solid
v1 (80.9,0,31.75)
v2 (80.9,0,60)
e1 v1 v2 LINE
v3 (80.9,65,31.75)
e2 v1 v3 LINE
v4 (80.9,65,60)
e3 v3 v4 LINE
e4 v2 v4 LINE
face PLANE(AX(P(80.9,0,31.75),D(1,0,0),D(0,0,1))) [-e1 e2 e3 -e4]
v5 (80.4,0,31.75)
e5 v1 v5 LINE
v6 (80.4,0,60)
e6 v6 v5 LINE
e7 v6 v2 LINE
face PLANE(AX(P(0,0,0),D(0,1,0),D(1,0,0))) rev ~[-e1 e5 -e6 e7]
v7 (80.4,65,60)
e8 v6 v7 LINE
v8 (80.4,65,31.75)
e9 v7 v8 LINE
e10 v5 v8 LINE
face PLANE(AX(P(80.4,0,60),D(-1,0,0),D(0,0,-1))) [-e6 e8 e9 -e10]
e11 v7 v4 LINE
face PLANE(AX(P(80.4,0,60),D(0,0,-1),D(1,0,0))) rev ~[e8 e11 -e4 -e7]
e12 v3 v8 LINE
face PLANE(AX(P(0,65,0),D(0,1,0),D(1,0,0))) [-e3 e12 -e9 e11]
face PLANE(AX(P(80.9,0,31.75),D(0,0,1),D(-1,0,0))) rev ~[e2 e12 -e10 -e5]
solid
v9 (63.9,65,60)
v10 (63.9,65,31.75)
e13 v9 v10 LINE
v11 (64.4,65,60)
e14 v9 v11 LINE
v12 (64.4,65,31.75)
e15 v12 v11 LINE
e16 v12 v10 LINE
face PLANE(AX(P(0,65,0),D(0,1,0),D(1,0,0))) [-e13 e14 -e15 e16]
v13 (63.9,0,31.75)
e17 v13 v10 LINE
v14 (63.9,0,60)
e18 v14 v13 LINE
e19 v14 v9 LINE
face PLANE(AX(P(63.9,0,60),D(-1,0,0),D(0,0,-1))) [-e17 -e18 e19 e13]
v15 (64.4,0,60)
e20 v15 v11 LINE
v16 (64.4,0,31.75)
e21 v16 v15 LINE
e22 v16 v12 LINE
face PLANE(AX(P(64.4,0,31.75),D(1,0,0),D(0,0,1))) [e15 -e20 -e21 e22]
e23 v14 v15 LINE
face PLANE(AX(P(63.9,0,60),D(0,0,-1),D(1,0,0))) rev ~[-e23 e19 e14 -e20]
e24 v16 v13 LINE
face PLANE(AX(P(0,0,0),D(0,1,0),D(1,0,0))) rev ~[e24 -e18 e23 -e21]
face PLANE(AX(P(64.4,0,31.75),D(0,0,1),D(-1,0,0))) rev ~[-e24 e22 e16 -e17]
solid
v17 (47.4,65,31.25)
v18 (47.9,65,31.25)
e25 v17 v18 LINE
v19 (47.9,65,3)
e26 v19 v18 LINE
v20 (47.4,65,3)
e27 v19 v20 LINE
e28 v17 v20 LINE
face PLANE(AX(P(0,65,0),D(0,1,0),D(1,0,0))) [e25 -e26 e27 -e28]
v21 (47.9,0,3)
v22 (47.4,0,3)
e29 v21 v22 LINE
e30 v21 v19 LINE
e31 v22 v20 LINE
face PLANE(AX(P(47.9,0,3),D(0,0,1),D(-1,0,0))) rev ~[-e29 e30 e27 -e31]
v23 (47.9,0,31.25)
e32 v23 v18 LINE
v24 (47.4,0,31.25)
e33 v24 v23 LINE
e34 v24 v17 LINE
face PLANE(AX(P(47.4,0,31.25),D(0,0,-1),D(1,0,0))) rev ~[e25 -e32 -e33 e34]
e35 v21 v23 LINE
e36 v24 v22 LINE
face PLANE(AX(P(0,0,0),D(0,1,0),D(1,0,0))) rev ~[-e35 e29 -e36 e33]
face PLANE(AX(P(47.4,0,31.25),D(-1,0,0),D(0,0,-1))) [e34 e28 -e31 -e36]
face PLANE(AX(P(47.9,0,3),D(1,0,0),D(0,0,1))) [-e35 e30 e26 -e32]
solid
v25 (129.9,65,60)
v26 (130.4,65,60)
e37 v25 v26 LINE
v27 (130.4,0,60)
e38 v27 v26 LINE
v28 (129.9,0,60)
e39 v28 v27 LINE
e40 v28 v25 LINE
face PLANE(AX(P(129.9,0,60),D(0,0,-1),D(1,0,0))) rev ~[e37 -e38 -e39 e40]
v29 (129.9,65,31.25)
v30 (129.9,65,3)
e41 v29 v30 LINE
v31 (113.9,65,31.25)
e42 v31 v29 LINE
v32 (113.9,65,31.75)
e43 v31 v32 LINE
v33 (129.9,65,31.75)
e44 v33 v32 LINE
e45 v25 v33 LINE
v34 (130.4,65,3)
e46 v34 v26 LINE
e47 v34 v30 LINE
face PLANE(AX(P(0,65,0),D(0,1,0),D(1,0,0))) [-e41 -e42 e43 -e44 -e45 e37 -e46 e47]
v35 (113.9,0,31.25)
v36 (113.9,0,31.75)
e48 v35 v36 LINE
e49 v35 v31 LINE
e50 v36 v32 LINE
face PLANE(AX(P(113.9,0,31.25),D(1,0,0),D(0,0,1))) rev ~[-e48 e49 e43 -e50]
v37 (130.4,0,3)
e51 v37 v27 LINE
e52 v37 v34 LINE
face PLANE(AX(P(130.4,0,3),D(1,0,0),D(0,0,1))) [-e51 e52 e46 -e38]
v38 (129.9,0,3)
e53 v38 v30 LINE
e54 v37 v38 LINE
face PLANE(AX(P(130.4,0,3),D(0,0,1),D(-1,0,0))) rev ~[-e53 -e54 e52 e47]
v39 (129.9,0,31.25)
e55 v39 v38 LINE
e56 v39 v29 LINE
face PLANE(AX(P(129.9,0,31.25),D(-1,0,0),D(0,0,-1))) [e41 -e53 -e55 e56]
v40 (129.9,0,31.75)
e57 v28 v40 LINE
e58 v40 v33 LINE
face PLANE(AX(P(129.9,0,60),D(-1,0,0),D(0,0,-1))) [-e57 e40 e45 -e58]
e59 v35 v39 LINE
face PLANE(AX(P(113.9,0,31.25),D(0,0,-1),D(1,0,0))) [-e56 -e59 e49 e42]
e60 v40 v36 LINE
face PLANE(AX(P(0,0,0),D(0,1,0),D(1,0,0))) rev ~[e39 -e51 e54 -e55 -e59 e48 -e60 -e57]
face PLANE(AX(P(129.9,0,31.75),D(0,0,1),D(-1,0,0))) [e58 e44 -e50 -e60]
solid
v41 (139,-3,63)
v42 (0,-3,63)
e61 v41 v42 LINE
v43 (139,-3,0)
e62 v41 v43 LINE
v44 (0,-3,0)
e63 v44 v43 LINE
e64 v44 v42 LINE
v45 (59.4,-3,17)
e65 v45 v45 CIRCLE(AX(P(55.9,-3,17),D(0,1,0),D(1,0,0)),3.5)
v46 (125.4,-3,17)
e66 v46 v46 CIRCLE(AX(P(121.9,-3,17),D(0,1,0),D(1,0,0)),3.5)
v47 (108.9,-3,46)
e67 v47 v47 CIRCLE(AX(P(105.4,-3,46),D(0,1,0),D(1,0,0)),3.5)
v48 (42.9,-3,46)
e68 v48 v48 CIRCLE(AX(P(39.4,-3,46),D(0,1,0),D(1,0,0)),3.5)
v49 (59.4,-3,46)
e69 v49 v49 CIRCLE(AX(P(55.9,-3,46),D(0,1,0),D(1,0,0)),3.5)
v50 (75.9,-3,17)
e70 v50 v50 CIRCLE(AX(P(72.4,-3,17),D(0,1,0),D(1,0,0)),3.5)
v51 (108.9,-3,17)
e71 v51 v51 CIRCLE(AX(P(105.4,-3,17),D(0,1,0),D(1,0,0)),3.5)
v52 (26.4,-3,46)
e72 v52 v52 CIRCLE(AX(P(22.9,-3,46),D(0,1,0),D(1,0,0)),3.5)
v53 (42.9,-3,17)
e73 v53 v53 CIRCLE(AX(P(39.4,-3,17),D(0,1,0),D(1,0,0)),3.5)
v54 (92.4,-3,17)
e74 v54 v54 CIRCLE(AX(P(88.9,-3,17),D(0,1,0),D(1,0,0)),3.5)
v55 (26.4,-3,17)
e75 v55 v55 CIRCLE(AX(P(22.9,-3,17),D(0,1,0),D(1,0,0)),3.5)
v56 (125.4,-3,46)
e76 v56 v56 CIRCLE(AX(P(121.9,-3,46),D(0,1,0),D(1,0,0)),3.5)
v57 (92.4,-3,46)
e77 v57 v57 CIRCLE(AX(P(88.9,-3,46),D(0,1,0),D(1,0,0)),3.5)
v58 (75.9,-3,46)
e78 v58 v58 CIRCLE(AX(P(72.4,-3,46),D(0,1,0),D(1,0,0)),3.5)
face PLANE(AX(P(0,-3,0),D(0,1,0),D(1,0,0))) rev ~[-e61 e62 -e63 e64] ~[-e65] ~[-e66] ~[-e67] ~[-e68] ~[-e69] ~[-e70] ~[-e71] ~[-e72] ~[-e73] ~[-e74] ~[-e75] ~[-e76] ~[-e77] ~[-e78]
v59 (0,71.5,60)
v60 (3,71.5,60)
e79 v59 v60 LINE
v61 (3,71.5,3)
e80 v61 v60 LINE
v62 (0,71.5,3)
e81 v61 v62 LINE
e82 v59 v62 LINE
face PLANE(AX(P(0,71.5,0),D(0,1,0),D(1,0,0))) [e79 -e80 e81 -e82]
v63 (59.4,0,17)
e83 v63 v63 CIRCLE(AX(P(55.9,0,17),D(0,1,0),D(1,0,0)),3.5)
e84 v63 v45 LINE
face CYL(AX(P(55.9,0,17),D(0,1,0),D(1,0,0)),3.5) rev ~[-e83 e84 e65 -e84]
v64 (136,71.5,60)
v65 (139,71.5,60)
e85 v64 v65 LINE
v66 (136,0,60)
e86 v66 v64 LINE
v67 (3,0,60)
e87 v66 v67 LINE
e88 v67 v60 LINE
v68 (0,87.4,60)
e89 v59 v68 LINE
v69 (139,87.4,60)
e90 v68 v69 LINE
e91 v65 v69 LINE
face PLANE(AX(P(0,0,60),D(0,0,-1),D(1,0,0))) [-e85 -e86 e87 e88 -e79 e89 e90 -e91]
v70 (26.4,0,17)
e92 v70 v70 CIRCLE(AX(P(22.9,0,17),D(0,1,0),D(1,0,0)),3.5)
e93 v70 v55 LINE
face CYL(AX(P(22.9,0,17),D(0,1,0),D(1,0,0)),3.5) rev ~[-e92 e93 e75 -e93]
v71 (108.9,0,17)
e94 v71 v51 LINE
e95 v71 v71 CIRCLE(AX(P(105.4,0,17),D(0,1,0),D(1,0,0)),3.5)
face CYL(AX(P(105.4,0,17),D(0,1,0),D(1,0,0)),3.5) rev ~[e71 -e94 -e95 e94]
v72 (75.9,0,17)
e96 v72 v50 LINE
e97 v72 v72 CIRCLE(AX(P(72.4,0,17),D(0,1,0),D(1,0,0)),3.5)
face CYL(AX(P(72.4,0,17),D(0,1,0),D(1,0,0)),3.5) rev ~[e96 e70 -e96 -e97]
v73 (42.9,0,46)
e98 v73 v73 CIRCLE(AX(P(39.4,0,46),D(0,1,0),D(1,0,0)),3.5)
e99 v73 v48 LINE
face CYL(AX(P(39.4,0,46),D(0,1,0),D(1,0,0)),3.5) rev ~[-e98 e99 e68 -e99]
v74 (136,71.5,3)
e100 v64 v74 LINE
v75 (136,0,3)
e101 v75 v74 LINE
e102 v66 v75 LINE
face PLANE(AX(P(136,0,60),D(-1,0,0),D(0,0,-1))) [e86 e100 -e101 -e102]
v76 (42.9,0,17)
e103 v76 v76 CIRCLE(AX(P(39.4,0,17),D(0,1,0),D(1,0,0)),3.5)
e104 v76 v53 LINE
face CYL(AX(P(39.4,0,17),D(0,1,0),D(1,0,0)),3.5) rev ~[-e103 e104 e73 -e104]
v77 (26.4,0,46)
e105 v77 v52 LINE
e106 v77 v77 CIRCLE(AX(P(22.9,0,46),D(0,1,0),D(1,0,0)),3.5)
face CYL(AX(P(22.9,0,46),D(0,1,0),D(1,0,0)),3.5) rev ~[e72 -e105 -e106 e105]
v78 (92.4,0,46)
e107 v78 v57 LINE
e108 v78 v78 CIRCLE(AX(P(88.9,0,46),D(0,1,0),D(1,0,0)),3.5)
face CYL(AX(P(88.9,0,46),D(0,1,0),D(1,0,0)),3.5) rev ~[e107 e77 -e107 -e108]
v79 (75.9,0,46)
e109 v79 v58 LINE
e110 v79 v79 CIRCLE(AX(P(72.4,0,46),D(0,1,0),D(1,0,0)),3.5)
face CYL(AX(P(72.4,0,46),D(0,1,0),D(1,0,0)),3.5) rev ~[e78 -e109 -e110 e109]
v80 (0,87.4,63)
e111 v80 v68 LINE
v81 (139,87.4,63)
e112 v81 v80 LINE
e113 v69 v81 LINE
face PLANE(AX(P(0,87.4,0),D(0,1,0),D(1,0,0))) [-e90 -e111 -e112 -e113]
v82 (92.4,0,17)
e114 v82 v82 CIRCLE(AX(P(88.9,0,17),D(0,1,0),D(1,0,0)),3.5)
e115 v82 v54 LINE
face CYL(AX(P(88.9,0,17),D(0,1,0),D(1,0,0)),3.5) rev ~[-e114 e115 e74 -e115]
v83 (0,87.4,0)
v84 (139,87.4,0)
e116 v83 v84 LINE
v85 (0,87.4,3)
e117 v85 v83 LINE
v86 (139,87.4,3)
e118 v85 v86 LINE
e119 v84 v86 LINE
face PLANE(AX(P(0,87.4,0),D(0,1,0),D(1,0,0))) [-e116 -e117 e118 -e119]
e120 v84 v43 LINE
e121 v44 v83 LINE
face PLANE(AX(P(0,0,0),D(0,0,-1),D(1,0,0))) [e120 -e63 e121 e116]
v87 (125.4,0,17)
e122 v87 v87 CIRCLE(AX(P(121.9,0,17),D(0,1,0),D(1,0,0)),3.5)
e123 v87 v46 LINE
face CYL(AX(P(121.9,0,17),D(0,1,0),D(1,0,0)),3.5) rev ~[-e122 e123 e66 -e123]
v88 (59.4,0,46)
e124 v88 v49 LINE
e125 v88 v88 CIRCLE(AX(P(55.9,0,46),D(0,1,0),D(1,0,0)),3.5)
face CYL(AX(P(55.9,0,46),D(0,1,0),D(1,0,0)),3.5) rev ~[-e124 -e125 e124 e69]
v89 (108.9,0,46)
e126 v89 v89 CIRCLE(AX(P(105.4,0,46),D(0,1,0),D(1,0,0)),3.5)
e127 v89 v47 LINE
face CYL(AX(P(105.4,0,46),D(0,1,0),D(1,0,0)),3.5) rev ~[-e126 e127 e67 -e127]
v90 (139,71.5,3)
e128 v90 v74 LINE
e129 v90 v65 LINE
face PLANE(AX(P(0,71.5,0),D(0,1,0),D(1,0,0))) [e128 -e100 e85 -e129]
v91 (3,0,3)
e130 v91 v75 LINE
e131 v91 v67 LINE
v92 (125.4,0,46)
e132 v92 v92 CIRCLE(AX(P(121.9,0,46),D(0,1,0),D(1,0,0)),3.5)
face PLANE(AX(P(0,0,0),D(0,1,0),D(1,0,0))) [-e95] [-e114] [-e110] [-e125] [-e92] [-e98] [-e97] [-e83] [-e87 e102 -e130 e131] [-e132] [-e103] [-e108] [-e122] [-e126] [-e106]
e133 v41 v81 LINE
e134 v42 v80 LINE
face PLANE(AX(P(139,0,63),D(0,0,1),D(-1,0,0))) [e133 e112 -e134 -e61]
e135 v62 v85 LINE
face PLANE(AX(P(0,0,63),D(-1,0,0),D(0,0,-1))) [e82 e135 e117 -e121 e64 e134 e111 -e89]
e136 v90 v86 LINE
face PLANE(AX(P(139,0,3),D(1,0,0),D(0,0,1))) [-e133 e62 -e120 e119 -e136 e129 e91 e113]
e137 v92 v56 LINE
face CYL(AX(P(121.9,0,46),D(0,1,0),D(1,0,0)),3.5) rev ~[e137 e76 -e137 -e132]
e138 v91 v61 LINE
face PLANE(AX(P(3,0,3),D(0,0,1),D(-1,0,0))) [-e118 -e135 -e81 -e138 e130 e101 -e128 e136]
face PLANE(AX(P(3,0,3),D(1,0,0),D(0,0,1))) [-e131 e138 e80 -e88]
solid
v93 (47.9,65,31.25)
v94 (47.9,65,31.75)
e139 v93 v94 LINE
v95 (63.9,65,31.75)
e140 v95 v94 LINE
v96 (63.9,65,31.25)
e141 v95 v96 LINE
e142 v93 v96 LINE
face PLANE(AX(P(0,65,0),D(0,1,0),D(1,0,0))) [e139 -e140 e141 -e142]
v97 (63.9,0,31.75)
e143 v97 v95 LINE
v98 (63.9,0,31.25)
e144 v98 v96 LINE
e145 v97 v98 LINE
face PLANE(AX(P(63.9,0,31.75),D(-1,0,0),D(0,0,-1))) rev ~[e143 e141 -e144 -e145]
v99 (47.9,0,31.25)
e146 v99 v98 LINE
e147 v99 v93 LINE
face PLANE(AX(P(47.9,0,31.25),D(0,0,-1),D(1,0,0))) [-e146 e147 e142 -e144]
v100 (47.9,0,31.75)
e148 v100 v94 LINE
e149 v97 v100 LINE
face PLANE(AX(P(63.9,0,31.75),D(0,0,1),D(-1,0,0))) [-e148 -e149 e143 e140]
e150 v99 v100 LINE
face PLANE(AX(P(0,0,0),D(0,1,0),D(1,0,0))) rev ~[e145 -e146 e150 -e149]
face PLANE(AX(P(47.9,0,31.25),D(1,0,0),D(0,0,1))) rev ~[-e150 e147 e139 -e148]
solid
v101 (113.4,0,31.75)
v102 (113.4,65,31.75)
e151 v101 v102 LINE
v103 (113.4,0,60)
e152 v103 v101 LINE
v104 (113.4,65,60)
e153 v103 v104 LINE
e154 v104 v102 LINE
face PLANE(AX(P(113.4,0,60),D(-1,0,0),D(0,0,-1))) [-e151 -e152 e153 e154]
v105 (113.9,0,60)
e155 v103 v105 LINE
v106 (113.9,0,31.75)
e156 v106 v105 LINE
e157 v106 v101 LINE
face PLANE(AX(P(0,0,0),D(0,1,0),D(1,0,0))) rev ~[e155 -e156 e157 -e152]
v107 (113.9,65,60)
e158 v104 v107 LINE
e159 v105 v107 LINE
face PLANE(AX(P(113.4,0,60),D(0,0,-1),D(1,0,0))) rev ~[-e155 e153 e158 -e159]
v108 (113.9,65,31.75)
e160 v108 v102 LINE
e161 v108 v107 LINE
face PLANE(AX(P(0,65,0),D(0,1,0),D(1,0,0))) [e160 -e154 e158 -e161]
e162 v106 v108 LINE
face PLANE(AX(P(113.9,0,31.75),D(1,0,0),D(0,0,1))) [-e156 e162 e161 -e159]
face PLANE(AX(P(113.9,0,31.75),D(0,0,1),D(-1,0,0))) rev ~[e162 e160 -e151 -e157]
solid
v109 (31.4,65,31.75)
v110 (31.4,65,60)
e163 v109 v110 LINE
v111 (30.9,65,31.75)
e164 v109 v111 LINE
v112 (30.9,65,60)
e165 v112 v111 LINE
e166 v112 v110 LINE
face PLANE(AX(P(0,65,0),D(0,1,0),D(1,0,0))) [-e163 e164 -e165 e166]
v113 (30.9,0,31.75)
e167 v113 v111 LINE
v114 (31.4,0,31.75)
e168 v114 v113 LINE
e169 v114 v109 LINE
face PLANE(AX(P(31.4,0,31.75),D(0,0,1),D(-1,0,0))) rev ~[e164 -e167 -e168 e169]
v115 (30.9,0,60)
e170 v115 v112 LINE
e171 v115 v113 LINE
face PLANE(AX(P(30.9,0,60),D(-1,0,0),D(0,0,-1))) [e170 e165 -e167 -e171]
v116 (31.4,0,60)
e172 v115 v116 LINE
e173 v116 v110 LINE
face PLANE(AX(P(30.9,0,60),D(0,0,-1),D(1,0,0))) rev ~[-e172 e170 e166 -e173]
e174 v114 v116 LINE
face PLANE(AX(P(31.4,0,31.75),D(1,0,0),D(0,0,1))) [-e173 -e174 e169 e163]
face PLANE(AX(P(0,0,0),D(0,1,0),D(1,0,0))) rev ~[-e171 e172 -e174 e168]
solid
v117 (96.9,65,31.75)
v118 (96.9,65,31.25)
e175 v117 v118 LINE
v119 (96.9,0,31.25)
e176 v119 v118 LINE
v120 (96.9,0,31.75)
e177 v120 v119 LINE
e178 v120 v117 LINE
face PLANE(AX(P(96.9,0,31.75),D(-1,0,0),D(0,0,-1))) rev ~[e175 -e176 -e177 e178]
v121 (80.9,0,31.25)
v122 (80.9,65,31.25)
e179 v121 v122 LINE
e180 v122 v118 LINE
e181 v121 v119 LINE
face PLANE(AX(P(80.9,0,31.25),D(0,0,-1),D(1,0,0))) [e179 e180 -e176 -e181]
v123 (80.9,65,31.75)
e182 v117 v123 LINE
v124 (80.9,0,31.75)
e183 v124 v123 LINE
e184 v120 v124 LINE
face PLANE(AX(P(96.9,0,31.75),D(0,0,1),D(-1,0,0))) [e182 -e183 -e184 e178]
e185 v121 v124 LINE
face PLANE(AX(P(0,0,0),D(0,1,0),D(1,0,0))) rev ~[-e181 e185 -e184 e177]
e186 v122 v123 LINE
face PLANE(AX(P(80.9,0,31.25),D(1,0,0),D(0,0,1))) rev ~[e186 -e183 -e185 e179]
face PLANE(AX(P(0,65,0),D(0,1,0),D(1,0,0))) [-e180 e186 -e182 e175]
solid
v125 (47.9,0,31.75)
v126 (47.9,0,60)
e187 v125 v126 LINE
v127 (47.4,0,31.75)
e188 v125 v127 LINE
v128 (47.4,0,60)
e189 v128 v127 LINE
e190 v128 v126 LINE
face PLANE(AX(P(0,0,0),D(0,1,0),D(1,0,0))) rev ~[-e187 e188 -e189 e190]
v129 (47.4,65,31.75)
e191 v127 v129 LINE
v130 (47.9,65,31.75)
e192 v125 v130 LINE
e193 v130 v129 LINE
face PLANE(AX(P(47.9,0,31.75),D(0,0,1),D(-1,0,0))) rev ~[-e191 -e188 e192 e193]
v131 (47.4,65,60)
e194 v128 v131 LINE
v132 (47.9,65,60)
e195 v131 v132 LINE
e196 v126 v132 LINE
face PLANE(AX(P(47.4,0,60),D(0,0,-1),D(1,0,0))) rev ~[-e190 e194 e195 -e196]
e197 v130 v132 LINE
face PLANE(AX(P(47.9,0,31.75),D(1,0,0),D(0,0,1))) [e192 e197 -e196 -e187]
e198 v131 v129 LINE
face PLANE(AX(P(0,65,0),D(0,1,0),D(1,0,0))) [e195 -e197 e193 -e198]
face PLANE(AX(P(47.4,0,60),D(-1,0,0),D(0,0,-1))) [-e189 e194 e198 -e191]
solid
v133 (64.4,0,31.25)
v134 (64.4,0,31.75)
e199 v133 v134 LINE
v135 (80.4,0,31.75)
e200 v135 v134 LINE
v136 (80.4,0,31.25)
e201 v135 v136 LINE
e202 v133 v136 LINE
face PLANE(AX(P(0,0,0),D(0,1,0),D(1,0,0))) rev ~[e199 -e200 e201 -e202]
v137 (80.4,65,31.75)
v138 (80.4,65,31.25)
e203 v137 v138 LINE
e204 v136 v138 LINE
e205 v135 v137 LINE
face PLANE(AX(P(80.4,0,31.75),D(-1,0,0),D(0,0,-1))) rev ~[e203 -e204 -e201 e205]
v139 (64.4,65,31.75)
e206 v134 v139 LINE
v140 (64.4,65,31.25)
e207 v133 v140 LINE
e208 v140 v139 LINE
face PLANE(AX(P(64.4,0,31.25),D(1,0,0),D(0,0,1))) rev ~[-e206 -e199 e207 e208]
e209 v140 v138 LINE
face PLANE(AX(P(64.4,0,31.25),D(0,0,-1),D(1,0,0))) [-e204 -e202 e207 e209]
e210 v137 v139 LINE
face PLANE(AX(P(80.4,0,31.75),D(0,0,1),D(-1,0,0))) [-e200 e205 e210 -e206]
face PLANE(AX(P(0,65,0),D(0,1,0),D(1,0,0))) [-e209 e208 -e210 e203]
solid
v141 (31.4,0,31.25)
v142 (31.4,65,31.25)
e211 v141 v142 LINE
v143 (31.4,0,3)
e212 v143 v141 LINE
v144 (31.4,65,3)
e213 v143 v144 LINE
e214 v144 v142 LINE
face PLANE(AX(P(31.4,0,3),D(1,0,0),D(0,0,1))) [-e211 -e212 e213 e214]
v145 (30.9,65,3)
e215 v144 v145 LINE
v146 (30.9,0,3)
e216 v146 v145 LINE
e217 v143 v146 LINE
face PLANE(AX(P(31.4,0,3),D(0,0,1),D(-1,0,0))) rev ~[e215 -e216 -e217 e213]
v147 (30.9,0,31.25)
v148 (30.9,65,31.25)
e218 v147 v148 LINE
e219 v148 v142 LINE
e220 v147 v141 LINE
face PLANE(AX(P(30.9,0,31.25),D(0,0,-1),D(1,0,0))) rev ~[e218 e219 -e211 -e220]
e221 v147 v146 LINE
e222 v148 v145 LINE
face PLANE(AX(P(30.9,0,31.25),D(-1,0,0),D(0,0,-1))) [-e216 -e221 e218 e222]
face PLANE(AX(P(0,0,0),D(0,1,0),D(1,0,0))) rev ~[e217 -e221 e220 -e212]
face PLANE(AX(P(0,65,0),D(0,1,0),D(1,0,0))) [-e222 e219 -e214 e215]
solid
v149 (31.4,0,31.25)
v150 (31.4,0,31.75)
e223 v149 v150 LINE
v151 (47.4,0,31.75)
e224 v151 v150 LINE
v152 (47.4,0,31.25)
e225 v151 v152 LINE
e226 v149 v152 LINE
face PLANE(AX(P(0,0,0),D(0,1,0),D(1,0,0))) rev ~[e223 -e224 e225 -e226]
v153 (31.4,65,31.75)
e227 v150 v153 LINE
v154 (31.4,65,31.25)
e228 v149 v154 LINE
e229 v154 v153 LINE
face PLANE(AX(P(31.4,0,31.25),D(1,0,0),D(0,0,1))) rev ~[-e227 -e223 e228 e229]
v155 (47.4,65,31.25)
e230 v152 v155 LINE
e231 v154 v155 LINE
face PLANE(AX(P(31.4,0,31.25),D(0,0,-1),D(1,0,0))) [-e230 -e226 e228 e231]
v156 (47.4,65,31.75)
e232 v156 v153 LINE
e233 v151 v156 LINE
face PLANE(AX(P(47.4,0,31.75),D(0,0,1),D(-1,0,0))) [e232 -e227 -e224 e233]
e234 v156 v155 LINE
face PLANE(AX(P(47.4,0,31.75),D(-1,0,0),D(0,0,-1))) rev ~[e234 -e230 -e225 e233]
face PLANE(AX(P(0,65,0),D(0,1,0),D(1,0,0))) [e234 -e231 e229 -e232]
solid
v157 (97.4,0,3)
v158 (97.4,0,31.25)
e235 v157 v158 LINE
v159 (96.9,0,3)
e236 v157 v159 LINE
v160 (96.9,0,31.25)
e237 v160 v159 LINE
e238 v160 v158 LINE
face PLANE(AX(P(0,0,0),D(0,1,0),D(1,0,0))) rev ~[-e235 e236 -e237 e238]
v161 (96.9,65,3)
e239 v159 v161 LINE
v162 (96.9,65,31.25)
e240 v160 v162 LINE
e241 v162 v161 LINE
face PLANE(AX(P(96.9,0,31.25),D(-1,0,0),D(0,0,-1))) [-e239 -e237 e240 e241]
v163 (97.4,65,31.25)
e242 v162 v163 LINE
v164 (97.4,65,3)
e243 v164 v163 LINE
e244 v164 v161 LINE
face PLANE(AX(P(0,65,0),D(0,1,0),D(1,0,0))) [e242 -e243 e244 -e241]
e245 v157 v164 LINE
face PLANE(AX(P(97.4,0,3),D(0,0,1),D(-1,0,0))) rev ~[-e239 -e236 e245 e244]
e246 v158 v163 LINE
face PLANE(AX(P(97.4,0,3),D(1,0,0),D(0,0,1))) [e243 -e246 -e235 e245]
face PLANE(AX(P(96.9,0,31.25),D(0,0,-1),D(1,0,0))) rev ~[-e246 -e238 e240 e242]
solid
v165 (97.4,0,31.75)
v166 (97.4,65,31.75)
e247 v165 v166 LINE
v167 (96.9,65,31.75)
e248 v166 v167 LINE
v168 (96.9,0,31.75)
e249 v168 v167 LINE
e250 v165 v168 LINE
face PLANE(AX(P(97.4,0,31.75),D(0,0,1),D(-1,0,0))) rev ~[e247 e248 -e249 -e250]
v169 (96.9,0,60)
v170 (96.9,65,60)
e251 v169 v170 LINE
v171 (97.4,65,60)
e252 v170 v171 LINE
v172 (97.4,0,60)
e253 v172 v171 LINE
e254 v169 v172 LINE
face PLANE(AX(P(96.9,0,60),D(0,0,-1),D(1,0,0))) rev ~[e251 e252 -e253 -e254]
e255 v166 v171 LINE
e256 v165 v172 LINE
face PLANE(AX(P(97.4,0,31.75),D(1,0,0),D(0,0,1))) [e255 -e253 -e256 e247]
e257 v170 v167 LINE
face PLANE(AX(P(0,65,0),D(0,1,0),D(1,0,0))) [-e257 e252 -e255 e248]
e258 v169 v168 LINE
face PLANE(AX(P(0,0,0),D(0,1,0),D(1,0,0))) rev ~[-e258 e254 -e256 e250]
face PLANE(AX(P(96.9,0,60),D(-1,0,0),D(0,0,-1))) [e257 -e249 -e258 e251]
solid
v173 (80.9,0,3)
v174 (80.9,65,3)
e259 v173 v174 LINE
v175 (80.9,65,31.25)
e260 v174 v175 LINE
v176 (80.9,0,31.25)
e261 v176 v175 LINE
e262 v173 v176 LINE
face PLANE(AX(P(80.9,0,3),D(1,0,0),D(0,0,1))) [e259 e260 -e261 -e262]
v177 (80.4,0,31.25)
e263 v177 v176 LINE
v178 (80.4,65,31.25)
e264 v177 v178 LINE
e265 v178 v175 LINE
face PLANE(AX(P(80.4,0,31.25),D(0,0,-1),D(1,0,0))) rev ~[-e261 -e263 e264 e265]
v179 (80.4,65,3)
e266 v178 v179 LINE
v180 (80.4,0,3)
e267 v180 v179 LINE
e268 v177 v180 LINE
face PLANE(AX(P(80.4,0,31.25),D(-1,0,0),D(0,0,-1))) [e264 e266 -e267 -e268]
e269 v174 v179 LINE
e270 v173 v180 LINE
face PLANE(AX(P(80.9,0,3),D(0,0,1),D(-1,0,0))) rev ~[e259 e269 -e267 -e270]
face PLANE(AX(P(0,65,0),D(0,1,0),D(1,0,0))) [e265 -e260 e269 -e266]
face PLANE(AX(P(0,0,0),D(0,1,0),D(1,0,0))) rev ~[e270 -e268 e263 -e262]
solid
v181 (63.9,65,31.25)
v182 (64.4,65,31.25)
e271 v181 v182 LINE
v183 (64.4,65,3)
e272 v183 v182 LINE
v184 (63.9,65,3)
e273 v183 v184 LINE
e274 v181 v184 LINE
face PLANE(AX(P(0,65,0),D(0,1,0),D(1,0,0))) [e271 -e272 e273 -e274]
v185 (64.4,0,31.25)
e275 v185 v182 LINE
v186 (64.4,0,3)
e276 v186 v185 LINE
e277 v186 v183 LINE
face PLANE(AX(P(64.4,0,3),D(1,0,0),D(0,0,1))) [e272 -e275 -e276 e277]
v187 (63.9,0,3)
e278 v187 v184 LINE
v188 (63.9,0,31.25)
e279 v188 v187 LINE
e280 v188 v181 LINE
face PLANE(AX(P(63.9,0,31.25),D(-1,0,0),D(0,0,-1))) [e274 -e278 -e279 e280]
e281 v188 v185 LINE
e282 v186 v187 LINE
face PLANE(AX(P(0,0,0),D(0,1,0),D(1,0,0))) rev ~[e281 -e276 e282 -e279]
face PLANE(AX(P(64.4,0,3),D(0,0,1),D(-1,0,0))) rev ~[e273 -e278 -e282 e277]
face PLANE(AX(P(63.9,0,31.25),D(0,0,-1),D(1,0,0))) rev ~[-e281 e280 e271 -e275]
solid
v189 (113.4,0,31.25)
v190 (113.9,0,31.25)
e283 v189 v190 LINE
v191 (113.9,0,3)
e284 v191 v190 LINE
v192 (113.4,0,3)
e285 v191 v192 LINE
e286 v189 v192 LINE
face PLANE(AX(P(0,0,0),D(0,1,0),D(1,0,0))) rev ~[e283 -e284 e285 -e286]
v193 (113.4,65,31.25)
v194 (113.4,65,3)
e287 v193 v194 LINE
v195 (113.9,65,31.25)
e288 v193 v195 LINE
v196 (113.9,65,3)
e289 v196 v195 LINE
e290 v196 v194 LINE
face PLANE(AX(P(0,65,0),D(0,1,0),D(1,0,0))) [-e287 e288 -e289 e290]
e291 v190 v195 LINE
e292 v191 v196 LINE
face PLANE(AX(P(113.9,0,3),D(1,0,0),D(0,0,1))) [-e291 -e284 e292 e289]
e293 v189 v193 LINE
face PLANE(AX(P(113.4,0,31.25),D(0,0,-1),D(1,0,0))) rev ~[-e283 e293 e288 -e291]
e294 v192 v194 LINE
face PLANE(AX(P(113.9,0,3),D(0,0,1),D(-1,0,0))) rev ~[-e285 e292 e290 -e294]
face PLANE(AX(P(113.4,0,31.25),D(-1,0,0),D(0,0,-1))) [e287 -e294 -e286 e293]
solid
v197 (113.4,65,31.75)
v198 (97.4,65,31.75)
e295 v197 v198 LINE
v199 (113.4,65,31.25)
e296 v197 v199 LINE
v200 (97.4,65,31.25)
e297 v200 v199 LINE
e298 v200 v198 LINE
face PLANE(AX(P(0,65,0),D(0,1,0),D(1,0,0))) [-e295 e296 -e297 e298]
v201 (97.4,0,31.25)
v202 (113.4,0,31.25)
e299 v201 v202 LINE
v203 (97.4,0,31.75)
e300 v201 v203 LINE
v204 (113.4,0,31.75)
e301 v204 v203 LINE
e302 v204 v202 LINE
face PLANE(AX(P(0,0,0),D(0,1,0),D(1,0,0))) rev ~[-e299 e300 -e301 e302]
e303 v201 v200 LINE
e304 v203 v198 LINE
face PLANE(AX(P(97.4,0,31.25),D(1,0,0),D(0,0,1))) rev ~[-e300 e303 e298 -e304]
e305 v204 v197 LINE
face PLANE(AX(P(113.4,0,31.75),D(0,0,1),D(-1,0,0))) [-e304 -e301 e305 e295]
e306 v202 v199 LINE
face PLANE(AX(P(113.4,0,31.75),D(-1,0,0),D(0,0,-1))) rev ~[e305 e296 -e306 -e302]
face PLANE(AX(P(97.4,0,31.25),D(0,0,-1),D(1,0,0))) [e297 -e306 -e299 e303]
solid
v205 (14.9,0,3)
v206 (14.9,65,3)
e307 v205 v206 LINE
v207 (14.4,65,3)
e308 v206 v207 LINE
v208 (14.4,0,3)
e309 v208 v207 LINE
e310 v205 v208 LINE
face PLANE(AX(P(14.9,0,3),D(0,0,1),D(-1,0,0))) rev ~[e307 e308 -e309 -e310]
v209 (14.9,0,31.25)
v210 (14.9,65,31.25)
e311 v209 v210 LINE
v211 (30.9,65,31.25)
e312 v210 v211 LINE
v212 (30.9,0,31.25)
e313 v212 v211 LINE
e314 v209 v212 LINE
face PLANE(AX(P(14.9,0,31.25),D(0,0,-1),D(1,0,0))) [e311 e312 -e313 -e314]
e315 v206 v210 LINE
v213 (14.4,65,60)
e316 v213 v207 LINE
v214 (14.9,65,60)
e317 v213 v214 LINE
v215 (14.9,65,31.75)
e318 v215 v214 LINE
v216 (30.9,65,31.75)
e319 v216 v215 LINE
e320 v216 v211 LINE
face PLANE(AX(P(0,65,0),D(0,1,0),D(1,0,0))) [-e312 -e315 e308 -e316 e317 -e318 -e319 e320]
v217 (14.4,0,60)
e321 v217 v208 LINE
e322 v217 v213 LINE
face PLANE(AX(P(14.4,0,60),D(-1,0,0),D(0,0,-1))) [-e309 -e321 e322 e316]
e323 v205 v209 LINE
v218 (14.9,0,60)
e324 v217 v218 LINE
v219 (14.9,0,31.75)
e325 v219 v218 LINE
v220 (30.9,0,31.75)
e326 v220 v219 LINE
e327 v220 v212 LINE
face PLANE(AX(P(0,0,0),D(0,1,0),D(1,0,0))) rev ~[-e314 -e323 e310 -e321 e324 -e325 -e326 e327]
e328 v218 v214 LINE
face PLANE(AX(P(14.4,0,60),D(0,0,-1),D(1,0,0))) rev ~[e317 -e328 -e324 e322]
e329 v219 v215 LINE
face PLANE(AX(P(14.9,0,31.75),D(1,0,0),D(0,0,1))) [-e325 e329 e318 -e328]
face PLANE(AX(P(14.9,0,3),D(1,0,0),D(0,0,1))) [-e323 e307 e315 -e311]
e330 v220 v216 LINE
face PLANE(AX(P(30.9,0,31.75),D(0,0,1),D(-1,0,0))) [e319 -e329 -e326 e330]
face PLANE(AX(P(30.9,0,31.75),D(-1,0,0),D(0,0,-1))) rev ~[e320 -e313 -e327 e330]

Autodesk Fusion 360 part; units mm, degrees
sketch "Sketch1" plane through (0, 0, 0) normal (0, 1, 0) x (1, 0, 0)
  line L0 (0, 0) -> (139, 0)
  line L1 (139, 0) -> (139, -63)
  line L2 (139, -63) -> (0, -63)
  line L3 (0, -63) -> (0, 0)
  line L4 (0, 0) -> (139, 0)
  line L5 (139, 0) -> (139, -3)
  line L6 (139, -3) -> (0, -3)
  line L7 (0, -3) -> (0, 0)
  line L8 (0, -60) -> (139, -60)
  line L9 (139, -60) -> (139, -63)
  line L10 (139, -63) -> (0, -63)
  line L11 (0, -63) -> (0, -60)
  line L12 (136, -3) -> (139, -3)
  line L13 (139, -3) -> (139, -60)
  line L14 (139, -60) -> (136, -60)
  line L15 (136, -60) -> (136, -3)
  line L16 (0, -3) -> (3, -3)
  line L17 (3, -3) -> (3, -60)
  line L18 (3, -60) -> (0, -60)
  line L19 (0, -60) -> (0, -3)
  circle A0 centre (121.9, -46) radius 3.5
  line L20 (113.4, -3) -> (113.9, -3)
  line L21 (113.9, -3) -> (113.9, -60)
  line L22 (113.9, -60) -> (113.4, -60)
  line L23 (113.4, -60) -> (113.4, -3)
  circle A1 centre (121.9, -17) radius 3.5
  circle A2 centre (121.9, -46) radius 3.5
  line L24 (113.4, -3) -> (113.9, -3)
  line L25 (113.9, -60) -> (113.4, -60)
  line L26 (113.9, -3) -> (113.9, -60)
  circle A3 centre (121.9, -17) radius 3.5
  line L27 (113.4, -60) -> (113.4, -3)
  line L28 (96.9, -60) -> (96.9, -3)
  circle A4 centre (105.4, -46) radius 3.5
  line L29 (97.4, -60) -> (96.9, -60)
  line L30 (96.9, -3) -> (97.4, -3)
  line L31 (96.9, -3) -> (97.4, -3)
  circle A5 centre (105.4, -46) radius 3.5
  line L32 (97.4, -60) -> (96.9, -60)
  circle A6 centre (105.4, -17) radius 3.5
  line L33 (97.4, -3) -> (97.4, -60)
  line L34 (96.9, -60) -> (96.9, -3)
  circle A7 centre (105.4, -17) radius 3.5
  line L35 (97.4, -3) -> (97.4, -60)
  line L36 (80.9, -60) -> (80.4, -60)
  line L37 (80.4, -3) -> (80.9, -3)
  line L38 (80.4, -60) -> (80.4, -3)
  circle A8 centre (88.9, -17) radius 3.5
  line L39 (80.9, -3) -> (80.9, -60)
  circle A9 centre (88.9, -46) radius 3.5
  circle A10 centre (88.9, -17) radius 3.5
  line L40 (80.9, -3) -> (80.9, -60)
  line L41 (80.4, -60) -> (80.4, -3)
  line L42 (80.9, -60) -> (80.4, -60)
  line L43 (80.4, -3) -> (80.9, -3)
  circle A11 centre (88.9, -46) radius 3.5
  line L44 (63.9, -60) -> (63.9, -3)
  line L45 (63.9, -60) -> (63.9, -3)
  line L46 (64.4, -3) -> (64.4, -60)
  line L47 (64.4, -3) -> (64.4, -60)
  circle A12 centre (72.4, -46) radius 3.5
  circle A13 centre (72.4, -17) radius 3.5
  line L48 (63.9, -3) -> (64.4, -3)
  line L49 (63.9, -3) -> (64.4, -3)
  line L50 (64.4, -60) -> (63.9, -60)
  circle A14 centre (72.4, -46) radius 3.5
  circle A15 centre (72.4, -17) radius 3.5
  line L51 (64.4, -60) -> (63.9, -60)
  line L52 (47.4, -60) -> (47.4, -3)
  line L53 (47.9, -3) -> (47.9, -60)
  line L54 (47.4, -60) -> (47.4, -3)
  line L55 (47.4, -3) -> (47.9, -3)
  line L56 (47.4, -3) -> (47.9, -3)
  line L57 (47.9, -3) -> (47.9, -60)
  circle A16 centre (55.9, -17) radius 3.5
  circle A17 centre (55.9, -46) radius 3.5
  line L58 (47.9, -60) -> (47.4, -60)
  circle A18 centre (55.9, -46) radius 3.5
  circle A19 centre (55.9, -17) radius 3.5
  line L59 (47.9, -60) -> (47.4, -60)
  circle A20 centre (39.4, -17) radius 3.5
  line L60 (30.9, -3) -> (31.4, -3)
  circle A21 centre (39.4, -46) radius 3.5
  line L61 (30.9, -60) -> (30.9, -3)
  line L62 (30.9, -60) -> (30.9, -3)
  line L63 (31.4, -3) -> (31.4, -60)
  line L64 (30.9, -3) -> (31.4, -3)
  line L65 (31.4, -3) -> (31.4, -60)
  line L66 (31.4, -60) -> (30.9, -60)
  circle A22 centre (39.4, -17) radius 3.5
  circle A23 centre (39.4, -46) radius 3.5
  line L67 (31.4, -60) -> (30.9, -60)
  line L68 (14.9, -3) -> (14.9, -60)
  line L69 (14.4, -3) -> (14.9, -3)
  line L70 (14.4, -60) -> (14.4, -3)
  line L71 (14.9, -60) -> (14.4, -60)
  line L72 (14.9, -3) -> (14.9, -60)
  circle A24 centre (22.9, -46) radius 3.5
  line L73 (14.4, -60) -> (14.4, -3)
  circle A25 centre (22.9, -46) radius 3.5
  line L74 (14.4, -3) -> (14.9, -3)
  line L75 (14.9, -60) -> (14.4, -60)
  circle A26 centre (22.9, -17) radius 3.5
  circle A27 centre (22.9, -17) radius 3.5
  line L76 (130.4, -60) -> (129.9, -60)
  line L77 (129.9, -3) -> (130.4, -3)
  line L78 (130.4, -60) -> (129.9, -60)
  line L79 (129.9, -3) -> (130.4, -3)
  line L80 (129.9, -60) -> (129.9, -3)
  line L81 (130.4, -3) -> (130.4, -60)
  line L82 (129.9, -60) -> (129.9, -3)
  line L83 (130.4, -3) -> (130.4, -60)
  line L84 (14.9, -31.25) -> (129.9, -31.25)
  line L85 (129.9, -31.25) -> (129.9, -31.75)
  line L86 (129.9, -31.75) -> (14.9, -31.75)
  line L87 (14.9, -31.75) -> (14.9, -31.25)
  line L88 (120, -59) -> (124, -59)
  line L89 (124, -59) -> (124, -60)
  line L90 (124, -60) -> (120, -60)
  line L91 (120, -60) -> (120, -59)
  line L92 (103, -60) -> (107, -60)
  line L93 (107, -60) -> (107, -59)
  line L94 (107, -59) -> (103, -59)
  line L95 (103, -59) -> (103, -60)
  line L96 (21, -3) -> (25, -3)
  line L97 (25, -3) -> (25, -4)
  line L98 (25, -4) -> (21, -4)
  line L99 (21, -4) -> (21, -3)
  line L100 (37, -3) -> (41, -3)
  line L101 (41, -3) -> (41, -4)
  line L102 (41, -4) -> (37, -4)
  line L103 (37, -4) -> (37, -3)
  line L104 (21, -60) -> (25, -60)
  line L105 (25, -60) -> (25, -59)
  line L106 (25, -59) -> (21, -59)
  line L107 (21, -59) -> (21, -60)
  line L108 (37, -60) -> (41, -60)
  line L109 (41, -60) -> (41, -59)
  line L110 (41, -59) -> (37, -59)
  line L111 (37, -59) -> (37, -60)
  line L112 (103, -3) -> (107, -3)
  line L113 (107, -3) -> (107, -4)
  line L114 (107, -4) -> (103, -4)
  line L115 (103, -4) -> (103, -3)
  line L116 (120, -3) -> (124, -3)
  line L117 (124, -3) -> (124, -4)
  line L118 (124, -4) -> (120, -4)
  line L119 (120, -4) -> (120, -3)
  dimension "d1" = 139
  dimension "d2" = 63
  dimension "d3" = 139
  dimension "d4" = 3
  dimension "d5" = 139
  dimension "d6" = 3
  dimension "d7" = 7
  dimension "d8" = 14.1
  dimension "d9" = 14
  dimension "d10" = 0.5
  dimension "d11" = 8
  dimension "d12" = 7
  dimension "d13" = 14
  dimension "d14" = 7
  dimension "d15" = 0.5
  dimension "d16" = 8
  dimension "d17" = 7
  dimension "d18" = 7
  dimension "d19" = 0.5
  dimension "d20" = 8
  dimension "d21" = 7
  dimension "d22" = 7
  dimension "d23" = 0.5
  dimension "d24" = 8
  dimension "d25" = 7
  dimension "d26" = 7
  dimension "d27" = 0.5
  dimension "d28" = 8
  dimension "d29" = 7
  dimension "d30" = 7
  dimension "d31" = 0.5
  dimension "d32" = 8
  dimension "d33" = 7
  dimension "d34" = 7
  dimension "d35" = 0.5
  dimension "d36" = 8
  dimension "d37" = 7
  dimension "d38" = 7
  dimension "d39" = 0.5
  dimension "d40" = 8
  dimension "d41" = 7
  dimension "d42" = 7
  dimension "d43" = 0.5
  dimension "d44" = 8
  dimension "d45" = 7
  dimension "d46" = 7
  dimension "d47" = 0.5
  dimension "d48" = 8
  dimension "d49" = 7
  dimension "d50" = 7
  dimension "d51" = 0.5
  dimension "d52" = 8
  dimension "d53" = 7
  dimension "d54" = 7
  dimension "d55" = 0.5
  dimension "d56" = 8
  dimension "d57" = 7
  dimension "d58" = 7
  dimension "d59" = 0.5
  dimension "d60" = 8
  dimension "d61" = 7
  dimension "d62" = 7
  dimension "d63" = 0.5
  dimension "d64" = 8
  dimension "d65" = 7
  dimension "d66" = 0.5
  dimension "d67" = 0.5
  dimension "d68" = 0.5
  dimension "d69" = 31.25
  dimension "d70" = 4
  dimension "d71" = 1
  dimension "d72" = 5.9
  dimension "d73" = 4
  dimension "d74" = 1
extrude "Extrude1" add sketch "Sketch1" against normal blind 3 contours L0 L1 L3 L4 L5 L6 L7 L12 L16 L20 L24 L30 L31 L37 L43 L48 L49 L55 L56 L60 L64 L69 L74 L77 L79 L96 L100 L112 L116 | L3 L6 L8 L16 L17 L18 L19 | L1 L6 L8 L12 L13 L14 L15 | L1 L2 L3 L8 L9 L10 L11 L14 L18 L22 L25 L29 L32 L36 L42 L50 L51 L58 L59 L66 L67 L71 L75 L76 L78 L90 L92 L104 L108 | L6 L8 L17 L70 L73 | L6 L8 L15 L81 L83 | L6 L8 L68 L69 L70 L71 L72 L73 L74 L75 L87 | L6 L8 L76 L77 L78 L79 L80 L81 L82 L83 L85 | L6 L61 L62 L68 L72 L84 L97 L98 L99 | L6 L21 L26 L80 L82 L84 L117 L118 L119 | L8 L61 L62 L68 L72 L86 L105 L106 L107 | L6 L96 L97 L98 L99 | L61 L62 L68 L72 L84 L86 L87 | L8 L21 L26 L80 L82 L86 L88 L89 L91 | L6 L116 L117 L118 L119 | L21 L26 L80 L82 L84 L85 L86 | L8 L104 L105 L106 L107 | L61 L62 L63 L65 L84 L86 | L6 L60 L61 L62 L63 L64 L65 L84 | L8 L88 L89 L90 L91 | L6 L20 L21 L23 L24 L26 L27 L84 | L21 L23 L26 L27 L84 L86 | L8 L61 L62 L63 L65 L66 L67 L86 | L52 L54 L63 L65 L84 L86 | L6 L52 L54 L63 L65 L84 L101 L102 L103 | L8 L21 L22 L23 L25 L26 L27 L86 | L6 L23 L27 L33 L35 L84 L113 L114 L115 | L23 L27 L33 L35 L84 L86 | L8 L52 L54 L63 L65 L86 L109 L110 L111 | L52 L53 L54 L57 L84 L86 | L6 L52 L53 L54 L55 L56 L57 L84 | L8 L23 L27 L33 L35 L86 L93 L94 L95 | L6 L28 L30 L31 L33 L34 L35 L84 | L28 L33 L34 L35 L84 L86 | L8 L52 L53 L54 L57 L58 L59 L86 | L6 L100 L101 L102 L103 | L44 L45 L53 L57 L84 L86 | L6 L44 L45 L53 L57 L84 | L8 L28 L29 L32 L33 L34 L35 L86 | L6 L112 L113 L114 L115 | L6 L28 L34 L39 L40 L84 | L28 L34 L39 L40 L84 L86 | L8 L108 L109 L110 L111 | L8 L44 L45 L53 L57 L86 | L44 L45 L46 L47 L84 L86 | L6 L44 L45 L46 L47 L48 L49 L84 | L8 L92 L93 L94 L95 | L8 L28 L34 L39 L40 L86 | L6 L37 L38 L39 L40 L41 L43 L84 | L38 L39 L40 L41 L84 L86 | L8 L44 L45 L46 L47 L50 L51 L86 | L38 L41 L46 L47 L84 L86 | L6 L38 L41 L46 L47 L84 | L8 L36 L38 L39 L40 L41 L42 L86 | L8 L38 L41 L46 L47 L86 | A0 A2 | A1 A3 | A4 A5 | A6 A7 | A8 A10 | A9 A11 | A12 A14 | A13 A15 | A16 A19 | A17 A18 | A20 A22 | A21 A23 | A24 A25 | A26 A27 makes body 1
extrude "Extrude2" add sketch "Sketch1" along normal blind 87.4 contours L0 L1 L3 L4 L5 L6 L7 L12 L16 L20 L24 L30 L31 L37 L43 L48 L49 L55 L56 L60 L64 L69 L74 L77 L79 L96 L100 L112 L116 bodies 1
extrude "Extrude3" add sketch "Sketch1" along normal blind 87.4 contours L1 L2 L3 L8 L9 L10 L11 L14 L18 L22 L25 L29 L32 L36 L42 L50 L51 L58 L59 L66 L67 L71 L75 L76 L78 L90 L92 L104 L108 bodies 1
extrude "Extrude4" add sketch "Sketch1" along normal blind 71.5 contours L1 L6 L8 L12 L13 L14 L15 bodies 1
extrude "Extrude5" add sketch "Sketch1" along normal blind 65 separate body contours L6 L8 L68 L69 L70 L71 L72 L73 L74 L75 L87 | L6 L8 L76 L77 L78 L79 L80 L81 L82 L83 L85 | L61 L62 L68 L72 L84 L86 L87 | L21 L26 L80 L82 L84 L85 L86 | L6 L60 L61 L62 L63 L64 L65 L84 | L6 L20 L21 L23 L24 L26 L27 L84 | L8 L61 L62 L63 L65 L66 L67 L86 | L52 L54 L63 L65 L84 L86 | L8 L21 L22 L23 L25 L26 L27 L86 | L23 L27 L33 L35 L84 L86 | L6 L52 L53 L54 L55 L56 L57 L84 | L6 L28 L30 L31 L33 L34 L35 L84 | L8 L52 L53 L54 L57 L58 L59 L86 | L44 L45 L53 L57 L84 L86 | L8 L28 L29 L32 L33 L34 L35 L86 | L28 L34 L39 L40 L84 L86 | L6 L44 L45 L46 L47 L48 L49 L84 | L6 L37 L38 L39 L40 L41 L43 L84 | L8 L44 L45 L46 L47 L50 L51 L86 | L38 L41 L46 L47 L84 L86 | L8 L36 L38 L39 L40 L41 L42 L86 makes body 2 at (130.4, 21.6667, 22)
extrude "Extrude6" add sketch "Sketch1" along normal blind 71.5 contours L3 L6 L8 L16 L17 L18 L19 bodies 1
extrude "Extrude7" cut sketch "Sketch1" against normal blind 15 contours A0 A2 | A1 A3 | A4 A5 | A6 A7 | A8 A10 | A9 A11 | A12 A14 | A13 A15 | A16 A19 | A17 A18 | A20 A22 | A21 A23 | A24 A25 | A26 A27 bodies 1
